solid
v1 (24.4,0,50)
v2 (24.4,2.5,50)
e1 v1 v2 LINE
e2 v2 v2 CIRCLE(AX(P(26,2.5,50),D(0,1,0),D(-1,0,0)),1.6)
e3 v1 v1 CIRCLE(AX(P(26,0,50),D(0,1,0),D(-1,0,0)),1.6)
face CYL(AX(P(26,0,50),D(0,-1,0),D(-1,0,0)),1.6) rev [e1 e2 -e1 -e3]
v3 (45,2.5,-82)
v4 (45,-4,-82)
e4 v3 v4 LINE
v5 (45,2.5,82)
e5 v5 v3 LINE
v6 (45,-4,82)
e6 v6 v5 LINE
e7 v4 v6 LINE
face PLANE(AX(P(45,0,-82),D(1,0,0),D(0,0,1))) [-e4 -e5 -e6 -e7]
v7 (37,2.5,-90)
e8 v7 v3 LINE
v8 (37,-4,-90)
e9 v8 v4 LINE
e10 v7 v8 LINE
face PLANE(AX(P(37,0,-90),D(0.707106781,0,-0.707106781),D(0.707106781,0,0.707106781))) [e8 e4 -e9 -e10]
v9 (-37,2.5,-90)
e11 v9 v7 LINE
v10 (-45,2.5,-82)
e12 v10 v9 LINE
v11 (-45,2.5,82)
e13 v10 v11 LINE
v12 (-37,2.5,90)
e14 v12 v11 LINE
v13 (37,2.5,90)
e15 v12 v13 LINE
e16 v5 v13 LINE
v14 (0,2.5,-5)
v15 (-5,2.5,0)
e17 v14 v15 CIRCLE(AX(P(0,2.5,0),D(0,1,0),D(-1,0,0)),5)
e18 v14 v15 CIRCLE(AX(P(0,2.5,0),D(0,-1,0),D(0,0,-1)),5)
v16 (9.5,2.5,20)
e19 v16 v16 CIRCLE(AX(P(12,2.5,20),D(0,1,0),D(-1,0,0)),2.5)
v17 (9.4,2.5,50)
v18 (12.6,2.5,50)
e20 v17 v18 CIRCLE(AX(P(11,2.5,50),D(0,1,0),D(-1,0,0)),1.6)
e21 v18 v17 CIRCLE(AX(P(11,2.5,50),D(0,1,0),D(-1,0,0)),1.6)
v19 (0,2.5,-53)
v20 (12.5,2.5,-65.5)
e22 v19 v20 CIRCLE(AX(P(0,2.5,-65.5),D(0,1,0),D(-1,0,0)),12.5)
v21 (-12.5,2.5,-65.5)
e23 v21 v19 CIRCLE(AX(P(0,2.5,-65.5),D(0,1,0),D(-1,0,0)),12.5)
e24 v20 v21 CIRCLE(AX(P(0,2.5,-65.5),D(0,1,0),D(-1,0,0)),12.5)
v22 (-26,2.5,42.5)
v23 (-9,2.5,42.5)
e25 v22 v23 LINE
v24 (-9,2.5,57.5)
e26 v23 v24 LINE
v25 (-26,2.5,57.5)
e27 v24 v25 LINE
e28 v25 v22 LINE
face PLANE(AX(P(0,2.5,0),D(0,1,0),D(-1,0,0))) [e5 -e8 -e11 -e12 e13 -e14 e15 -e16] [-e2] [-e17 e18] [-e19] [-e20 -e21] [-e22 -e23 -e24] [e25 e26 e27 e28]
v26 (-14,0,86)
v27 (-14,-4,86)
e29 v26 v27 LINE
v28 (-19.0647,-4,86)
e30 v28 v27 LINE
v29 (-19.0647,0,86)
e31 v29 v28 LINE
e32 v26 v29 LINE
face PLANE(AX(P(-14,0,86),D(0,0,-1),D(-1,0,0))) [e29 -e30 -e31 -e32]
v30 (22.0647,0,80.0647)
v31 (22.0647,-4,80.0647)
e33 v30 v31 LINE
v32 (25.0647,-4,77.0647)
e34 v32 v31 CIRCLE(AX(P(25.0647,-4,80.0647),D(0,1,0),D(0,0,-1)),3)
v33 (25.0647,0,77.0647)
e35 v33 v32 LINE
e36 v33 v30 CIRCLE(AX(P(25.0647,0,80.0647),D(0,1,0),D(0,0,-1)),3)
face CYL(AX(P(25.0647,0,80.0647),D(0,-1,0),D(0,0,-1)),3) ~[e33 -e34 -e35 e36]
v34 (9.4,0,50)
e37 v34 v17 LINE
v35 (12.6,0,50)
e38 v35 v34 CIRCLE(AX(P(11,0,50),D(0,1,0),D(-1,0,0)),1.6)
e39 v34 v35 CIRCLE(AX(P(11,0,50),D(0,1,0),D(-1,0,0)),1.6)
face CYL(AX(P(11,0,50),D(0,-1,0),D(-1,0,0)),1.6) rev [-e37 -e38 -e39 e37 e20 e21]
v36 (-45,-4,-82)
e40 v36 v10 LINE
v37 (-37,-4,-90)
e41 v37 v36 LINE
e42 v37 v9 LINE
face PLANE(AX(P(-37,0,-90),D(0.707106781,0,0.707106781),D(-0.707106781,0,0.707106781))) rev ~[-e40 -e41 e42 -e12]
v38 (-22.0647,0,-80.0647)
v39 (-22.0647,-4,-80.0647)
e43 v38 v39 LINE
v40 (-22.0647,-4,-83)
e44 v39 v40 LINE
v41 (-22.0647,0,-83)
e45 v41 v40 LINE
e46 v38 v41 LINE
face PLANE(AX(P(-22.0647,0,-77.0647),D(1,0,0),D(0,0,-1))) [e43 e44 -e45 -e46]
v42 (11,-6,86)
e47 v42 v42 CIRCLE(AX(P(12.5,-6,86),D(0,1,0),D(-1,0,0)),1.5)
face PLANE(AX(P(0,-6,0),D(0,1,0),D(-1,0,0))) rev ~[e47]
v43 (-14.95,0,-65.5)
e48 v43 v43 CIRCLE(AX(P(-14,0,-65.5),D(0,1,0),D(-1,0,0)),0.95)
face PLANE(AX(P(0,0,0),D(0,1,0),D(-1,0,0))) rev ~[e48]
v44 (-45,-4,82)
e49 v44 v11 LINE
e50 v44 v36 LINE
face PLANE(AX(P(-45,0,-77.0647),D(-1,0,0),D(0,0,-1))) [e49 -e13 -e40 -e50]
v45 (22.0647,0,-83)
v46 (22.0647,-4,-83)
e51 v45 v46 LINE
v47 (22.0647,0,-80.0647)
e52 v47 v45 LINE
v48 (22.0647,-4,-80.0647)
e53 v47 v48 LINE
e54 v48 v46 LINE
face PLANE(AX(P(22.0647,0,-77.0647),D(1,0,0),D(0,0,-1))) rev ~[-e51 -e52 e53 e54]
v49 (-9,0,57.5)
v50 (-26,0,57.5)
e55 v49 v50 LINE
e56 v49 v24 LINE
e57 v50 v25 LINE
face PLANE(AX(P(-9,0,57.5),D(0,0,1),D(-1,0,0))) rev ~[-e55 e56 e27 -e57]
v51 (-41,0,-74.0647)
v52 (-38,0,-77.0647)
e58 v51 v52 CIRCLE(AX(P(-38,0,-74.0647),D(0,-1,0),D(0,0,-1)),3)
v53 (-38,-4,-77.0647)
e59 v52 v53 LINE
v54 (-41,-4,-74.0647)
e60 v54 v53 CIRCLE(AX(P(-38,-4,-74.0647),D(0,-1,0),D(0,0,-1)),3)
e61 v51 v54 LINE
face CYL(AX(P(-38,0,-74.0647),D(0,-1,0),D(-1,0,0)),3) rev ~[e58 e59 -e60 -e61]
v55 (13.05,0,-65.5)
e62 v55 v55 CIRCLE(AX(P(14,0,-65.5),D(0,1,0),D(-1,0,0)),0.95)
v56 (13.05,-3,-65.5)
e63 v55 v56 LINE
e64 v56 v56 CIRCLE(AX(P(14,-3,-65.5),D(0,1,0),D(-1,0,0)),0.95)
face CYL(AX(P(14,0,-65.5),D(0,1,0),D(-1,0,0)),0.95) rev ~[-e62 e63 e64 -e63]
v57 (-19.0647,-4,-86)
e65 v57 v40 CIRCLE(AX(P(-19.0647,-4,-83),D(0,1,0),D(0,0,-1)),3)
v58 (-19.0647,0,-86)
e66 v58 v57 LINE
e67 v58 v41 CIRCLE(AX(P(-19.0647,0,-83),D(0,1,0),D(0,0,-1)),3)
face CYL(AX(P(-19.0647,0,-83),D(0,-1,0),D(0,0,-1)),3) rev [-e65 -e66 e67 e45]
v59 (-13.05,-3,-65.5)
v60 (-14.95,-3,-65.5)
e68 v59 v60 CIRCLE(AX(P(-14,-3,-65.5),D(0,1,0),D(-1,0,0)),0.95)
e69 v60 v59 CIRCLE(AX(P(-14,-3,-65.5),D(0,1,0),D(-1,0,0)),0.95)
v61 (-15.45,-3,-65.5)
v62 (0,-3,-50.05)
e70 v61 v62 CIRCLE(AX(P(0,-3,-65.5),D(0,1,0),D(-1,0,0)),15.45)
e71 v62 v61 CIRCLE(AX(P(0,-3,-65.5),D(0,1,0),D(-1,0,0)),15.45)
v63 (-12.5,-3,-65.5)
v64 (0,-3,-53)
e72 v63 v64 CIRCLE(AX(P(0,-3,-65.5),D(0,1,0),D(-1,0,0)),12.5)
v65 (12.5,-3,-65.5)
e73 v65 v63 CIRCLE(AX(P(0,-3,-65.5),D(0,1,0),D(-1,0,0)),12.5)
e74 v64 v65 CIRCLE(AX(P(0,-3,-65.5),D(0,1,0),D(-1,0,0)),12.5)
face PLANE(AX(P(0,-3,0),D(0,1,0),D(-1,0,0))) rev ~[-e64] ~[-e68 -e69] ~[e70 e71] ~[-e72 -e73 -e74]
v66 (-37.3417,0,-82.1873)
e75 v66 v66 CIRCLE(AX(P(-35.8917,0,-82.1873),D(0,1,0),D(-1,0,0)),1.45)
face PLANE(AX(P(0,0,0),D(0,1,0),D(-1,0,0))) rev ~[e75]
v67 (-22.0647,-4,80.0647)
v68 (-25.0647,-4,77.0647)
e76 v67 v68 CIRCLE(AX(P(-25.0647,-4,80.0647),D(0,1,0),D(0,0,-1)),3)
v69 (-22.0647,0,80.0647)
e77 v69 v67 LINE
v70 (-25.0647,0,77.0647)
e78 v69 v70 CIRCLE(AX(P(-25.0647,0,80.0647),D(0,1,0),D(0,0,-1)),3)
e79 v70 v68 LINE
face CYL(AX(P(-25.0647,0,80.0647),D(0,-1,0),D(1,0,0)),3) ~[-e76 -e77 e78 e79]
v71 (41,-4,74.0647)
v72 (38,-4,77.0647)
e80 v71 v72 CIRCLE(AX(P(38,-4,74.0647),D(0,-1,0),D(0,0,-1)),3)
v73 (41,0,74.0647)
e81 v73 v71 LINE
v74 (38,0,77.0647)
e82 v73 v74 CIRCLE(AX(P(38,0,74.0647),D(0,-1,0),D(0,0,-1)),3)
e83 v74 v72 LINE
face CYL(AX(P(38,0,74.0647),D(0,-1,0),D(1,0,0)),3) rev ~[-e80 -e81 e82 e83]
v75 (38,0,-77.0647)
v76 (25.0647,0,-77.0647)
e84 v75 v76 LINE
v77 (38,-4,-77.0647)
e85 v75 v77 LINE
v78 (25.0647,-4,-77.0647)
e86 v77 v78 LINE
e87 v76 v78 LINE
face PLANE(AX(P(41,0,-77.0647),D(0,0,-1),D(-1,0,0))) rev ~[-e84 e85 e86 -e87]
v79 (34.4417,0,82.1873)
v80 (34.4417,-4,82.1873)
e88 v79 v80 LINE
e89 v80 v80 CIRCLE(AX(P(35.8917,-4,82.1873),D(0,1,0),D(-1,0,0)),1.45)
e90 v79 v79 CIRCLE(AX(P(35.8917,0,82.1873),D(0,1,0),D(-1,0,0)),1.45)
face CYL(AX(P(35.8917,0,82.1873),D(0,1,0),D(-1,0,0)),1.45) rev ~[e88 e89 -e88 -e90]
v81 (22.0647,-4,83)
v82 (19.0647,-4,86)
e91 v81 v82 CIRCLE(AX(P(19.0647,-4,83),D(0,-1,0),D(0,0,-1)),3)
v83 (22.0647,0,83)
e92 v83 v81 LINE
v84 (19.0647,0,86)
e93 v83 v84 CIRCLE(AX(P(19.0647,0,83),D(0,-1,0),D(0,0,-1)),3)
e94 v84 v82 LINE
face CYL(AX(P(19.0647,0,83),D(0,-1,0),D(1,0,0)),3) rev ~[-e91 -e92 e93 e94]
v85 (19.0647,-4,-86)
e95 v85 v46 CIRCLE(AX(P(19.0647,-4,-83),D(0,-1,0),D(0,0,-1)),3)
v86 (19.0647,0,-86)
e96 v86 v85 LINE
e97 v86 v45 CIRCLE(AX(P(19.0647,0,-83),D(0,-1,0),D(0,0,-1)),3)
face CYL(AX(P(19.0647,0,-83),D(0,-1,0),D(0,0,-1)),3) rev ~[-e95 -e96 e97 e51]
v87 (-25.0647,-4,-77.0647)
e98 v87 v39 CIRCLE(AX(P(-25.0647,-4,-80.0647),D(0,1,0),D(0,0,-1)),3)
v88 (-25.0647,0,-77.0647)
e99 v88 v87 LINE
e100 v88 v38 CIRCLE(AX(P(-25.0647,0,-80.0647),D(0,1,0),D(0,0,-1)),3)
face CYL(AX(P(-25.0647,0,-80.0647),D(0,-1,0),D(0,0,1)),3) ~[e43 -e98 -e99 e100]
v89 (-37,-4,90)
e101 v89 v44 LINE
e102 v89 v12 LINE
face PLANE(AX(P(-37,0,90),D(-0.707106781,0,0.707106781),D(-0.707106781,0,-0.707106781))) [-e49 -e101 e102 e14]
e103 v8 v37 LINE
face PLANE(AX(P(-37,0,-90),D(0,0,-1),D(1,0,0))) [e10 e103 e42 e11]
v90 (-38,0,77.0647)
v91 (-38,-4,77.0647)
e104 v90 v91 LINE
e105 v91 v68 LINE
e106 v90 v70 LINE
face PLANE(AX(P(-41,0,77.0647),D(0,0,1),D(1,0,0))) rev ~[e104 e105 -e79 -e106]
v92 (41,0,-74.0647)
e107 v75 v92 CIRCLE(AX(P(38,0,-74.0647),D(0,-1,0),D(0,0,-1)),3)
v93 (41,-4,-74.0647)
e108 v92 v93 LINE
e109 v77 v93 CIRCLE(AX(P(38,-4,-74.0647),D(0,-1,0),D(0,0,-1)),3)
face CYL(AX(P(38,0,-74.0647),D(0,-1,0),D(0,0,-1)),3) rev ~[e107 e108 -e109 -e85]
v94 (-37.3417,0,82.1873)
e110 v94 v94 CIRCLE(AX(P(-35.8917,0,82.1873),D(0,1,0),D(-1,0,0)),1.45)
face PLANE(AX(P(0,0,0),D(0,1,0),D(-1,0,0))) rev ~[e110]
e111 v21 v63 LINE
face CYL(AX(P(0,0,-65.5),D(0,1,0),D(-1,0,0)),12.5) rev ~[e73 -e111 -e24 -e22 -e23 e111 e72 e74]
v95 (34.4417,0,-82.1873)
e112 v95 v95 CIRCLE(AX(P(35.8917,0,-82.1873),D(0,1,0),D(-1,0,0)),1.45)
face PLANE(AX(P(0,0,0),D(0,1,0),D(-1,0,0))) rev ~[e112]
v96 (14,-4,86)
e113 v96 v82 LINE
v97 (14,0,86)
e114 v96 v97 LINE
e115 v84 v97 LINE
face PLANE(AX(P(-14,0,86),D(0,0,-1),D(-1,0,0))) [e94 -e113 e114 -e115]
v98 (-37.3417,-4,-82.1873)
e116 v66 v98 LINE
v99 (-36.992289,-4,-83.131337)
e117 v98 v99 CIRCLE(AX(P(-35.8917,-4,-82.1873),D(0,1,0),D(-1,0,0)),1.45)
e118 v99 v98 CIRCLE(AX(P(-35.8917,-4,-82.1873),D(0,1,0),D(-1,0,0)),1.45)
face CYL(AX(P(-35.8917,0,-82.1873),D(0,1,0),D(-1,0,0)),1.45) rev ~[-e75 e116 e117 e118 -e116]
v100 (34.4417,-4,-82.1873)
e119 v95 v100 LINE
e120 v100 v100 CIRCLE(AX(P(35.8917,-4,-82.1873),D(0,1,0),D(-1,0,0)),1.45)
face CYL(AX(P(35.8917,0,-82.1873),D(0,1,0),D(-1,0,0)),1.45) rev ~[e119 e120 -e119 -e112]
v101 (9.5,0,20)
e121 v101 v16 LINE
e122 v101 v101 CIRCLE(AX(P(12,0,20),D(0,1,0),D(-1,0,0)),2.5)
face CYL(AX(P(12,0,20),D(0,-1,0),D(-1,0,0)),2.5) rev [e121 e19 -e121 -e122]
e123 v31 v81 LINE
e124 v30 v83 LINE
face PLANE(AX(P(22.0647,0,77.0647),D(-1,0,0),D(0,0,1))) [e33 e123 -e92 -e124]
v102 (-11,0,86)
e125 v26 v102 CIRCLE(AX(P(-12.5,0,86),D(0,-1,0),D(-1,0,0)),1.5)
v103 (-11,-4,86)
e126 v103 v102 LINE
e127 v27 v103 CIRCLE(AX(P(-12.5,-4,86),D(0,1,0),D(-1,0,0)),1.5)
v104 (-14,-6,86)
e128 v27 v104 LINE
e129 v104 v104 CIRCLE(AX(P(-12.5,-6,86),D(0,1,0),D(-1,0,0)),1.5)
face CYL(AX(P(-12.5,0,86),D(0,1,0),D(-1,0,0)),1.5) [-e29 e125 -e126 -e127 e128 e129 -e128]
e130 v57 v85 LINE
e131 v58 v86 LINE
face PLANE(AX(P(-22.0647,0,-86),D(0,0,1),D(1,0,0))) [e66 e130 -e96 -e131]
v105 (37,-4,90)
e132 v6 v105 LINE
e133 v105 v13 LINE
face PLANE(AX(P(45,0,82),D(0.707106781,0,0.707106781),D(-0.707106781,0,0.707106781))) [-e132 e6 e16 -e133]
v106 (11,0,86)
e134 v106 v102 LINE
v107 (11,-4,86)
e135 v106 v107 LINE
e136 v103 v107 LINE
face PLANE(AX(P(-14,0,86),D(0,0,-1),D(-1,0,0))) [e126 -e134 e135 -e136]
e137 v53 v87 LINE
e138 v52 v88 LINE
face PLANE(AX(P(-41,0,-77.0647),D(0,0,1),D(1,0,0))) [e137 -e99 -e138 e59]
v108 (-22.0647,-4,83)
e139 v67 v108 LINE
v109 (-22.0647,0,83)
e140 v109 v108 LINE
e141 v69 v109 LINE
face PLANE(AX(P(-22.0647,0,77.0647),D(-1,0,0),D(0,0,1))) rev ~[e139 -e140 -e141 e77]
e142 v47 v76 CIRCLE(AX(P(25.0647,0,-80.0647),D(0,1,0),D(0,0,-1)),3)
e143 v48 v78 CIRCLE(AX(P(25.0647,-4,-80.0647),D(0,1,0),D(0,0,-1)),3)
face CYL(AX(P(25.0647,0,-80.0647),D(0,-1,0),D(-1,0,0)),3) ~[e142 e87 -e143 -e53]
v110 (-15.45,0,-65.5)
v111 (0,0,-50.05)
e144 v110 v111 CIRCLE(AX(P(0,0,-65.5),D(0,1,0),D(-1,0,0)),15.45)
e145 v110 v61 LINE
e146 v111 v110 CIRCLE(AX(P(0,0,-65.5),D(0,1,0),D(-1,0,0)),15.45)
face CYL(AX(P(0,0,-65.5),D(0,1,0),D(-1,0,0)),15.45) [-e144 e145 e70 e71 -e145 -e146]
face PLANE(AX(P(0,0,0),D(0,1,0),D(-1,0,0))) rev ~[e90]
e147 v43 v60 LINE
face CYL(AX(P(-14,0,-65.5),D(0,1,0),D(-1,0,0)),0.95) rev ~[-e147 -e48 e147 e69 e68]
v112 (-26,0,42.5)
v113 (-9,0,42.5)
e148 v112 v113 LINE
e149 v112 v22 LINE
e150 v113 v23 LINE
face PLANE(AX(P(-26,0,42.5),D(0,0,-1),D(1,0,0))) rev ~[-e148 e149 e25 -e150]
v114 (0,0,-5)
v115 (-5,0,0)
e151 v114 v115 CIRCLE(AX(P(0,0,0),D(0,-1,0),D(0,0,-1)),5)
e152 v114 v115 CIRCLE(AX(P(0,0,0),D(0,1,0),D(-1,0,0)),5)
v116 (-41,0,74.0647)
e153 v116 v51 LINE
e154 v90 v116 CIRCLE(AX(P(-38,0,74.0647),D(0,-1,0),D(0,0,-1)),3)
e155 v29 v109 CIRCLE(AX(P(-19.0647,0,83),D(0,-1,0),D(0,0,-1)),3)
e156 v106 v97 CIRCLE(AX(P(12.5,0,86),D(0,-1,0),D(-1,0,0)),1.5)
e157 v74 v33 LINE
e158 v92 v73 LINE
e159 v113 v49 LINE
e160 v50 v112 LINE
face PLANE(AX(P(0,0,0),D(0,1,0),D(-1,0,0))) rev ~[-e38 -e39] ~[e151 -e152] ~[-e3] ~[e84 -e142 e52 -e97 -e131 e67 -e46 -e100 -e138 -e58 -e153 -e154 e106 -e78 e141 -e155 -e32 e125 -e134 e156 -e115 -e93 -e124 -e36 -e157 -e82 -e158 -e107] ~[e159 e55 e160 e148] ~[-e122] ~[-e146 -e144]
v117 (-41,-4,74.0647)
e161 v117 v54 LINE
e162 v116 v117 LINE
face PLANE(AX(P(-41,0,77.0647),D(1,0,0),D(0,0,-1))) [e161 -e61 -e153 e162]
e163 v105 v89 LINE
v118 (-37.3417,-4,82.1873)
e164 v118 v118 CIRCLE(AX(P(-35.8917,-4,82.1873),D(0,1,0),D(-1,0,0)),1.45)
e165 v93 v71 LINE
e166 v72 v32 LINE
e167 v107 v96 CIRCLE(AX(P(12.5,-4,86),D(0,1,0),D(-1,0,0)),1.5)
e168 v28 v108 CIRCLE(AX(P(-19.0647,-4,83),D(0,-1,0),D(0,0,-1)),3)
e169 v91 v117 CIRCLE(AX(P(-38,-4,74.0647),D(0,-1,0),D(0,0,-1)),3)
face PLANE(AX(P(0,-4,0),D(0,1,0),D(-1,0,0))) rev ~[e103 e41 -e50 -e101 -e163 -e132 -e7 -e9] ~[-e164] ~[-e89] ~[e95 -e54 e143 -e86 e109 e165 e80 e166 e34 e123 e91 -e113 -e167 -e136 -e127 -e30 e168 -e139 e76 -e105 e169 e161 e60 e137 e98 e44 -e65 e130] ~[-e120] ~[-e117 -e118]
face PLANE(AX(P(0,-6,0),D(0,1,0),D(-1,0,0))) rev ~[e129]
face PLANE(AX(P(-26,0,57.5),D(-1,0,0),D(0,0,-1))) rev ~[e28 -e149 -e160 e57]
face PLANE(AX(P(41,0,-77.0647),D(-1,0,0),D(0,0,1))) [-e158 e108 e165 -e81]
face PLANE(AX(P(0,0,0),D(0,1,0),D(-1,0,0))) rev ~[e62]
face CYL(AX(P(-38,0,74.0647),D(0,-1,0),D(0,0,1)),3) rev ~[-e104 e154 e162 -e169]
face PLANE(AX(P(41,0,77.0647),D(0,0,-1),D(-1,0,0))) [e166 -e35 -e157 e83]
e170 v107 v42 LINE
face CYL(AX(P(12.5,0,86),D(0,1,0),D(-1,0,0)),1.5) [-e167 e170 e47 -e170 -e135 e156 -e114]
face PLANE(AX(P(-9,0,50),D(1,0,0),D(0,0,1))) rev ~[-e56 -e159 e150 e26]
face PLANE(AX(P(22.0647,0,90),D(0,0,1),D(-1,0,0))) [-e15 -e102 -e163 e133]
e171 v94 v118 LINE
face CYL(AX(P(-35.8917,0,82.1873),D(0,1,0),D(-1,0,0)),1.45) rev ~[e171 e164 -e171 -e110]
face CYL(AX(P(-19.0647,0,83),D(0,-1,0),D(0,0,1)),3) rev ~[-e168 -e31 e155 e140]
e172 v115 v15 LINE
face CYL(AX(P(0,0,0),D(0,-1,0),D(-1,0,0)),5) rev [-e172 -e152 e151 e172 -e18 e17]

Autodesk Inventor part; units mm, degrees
ref_plane "YZ Plane" through (0, 0, 0) normal (1, 0, 0) x (0, 1, 0)
sketch "Sketch1" plane through (0, 0, 0) normal (0, 1, 0) x (-1, 0, 0)
  line L0 (37, -90) -> (-37, -90)
  line L1 (-45, -82) -> (-45, 82)
  line L2 (-37, 90) -> (37, 90)
  line L3 (45, 82) -> (45, -82)
  line L4 (45, -90) -> (-45, 90) construction
  line L5 (-45, -90) -> (45, 90) construction
  line L6 (-37, -90) -> (-45, -82)
  line L7 (37, -90) -> (45, -82)
  line L8 (37, 90) -> (45, 82)
  line L9 (-45, 82) -> (-37, 90)
  line L10 (0, 0) -> (0, -65.5)
  circle A0 centre (0, -65.5) radius 12.5
  line L11 (0, 0) -> (0, 0)
  circle A1 centre (0, 0) radius 5
  line L12 (0, 0) -> (17.5, 0)
  line L13 (17.5, 0) -> (17.5, 50)
  line L14 (17.5, 50) -> (0, 50)
  line L15 (0, 50) -> (0, 0)
  line L16 (26, 42.5) -> (9, 42.5)
  line L17 (9, 42.5) -> (9, 57.5)
  line L18 (9, 57.5) -> (26, 57.5)
  line L19 (26, 57.5) -> (26, 42.5)
  line L20 (26, 42.5) -> (9, 57.5) construction
  line L21 (9, 42.5) -> (26, 57.5) construction
  line L22 (9, 50) -> (-11, 50)
  circle A2 centre (-11, 50) radius 1.6
  line L23 (-11, 50) -> (-26, 50)
  circle A3 centre (-26, 50) radius 1.6
  line L24 (41, -80.3431) -> (35.3431, -86)
  line L25 (35.3431, -86) -> (-35.3431, -86)
  line L26 (-35.3431, -86) -> (-41, -80.3431)
  line L27 (-41, -80.3431) -> (-41, 80.3431)
  line L28 (-41, 80.3431) -> (-35.3431, 86)
  line L29 (-35.3431, 86) -> (35.3431, 86)
  line L30 (35.3431, 86) -> (41, 80.3431)
  line L31 (41, 80.3431) -> (41, -80.3431)
  line L32 (45, -90) -> (35.8917, -82.1873)
  circle A4 centre (35.8917, -82.1873) radius 1.45
  circle A5 centre (35.8917, -82.1873) radius 4.45
  line L33 (22.0647, -90) -> (45, -90)
  line L34 (45, -90) -> (45, -77.0647)
  line L35 (45, -77.0647) -> (22.0647, -77.0647)
  line L36 (22.0647, -77.0647) -> (22.0647, -90)
  circle A6 centre (-35.8917, -82.1873) radius 1.45
  circle A7 centre (-35.8917, -82.1873) radius 4.45
  line L37 (-45, -77.0647) -> (-22.0647, -77.0647)
  line L38 (-22.0647, -77.0647) -> (-22.0647, -90)
  circle A8 centre (35.8917, 82.1873) radius 1.45
  circle A9 centre (35.8917, 82.1873) radius 4.45
  line L39 (45, 77.0647) -> (22.0647, 77.0647)
  line L40 (22.0647, 77.0647) -> (22.0647, 90)
  circle A10 centre (-35.8917, 82.1873) radius 4.45
  circle A11 centre (-35.8917, 82.1873) radius 1.45
  line L41 (-45, 77.0647) -> (-22.0647, 77.0647)
  line L42 (-22.0647, 77.0647) -> (-22.0647, 90)
  line L43 (-22.0647, -90) -> (-45, -90)
  line L44 (-45, -90) -> (-45, -77.0647)
  line L45 (-22.0647, 90) -> (-45, 90)
  line L46 (-45, 90) -> (-45, 77.0647)
  line L47 (22.0647, 90) -> (45, 90)
  line L48 (45, 90) -> (45, 77.0647)
  line L49 (0, 0) -> (0, 20)
  line L50 (0, 0) -> (20, 0) construction
  line L51 (0, 20) -> (-12, 20)
  circle A12 centre (-12, 20) radius 2.5
  line L52 (0, 86) -> (12.5, 86)
  line L53 (0, 86) -> (-12.5, 86)
  circle A13 centre (12.5, 86) radius 1.5
  circle A14 centre (-12.5, 86) radius 1.5
  line L54 (0, -65.5) -> (14, -65.5)
  line L55 (0, -65.5) -> (14, -65.5) construction
  line L56 (0, -65.5) -> (-14, -65.5)
  line L57 (0, -65.5) -> (14, -65.5) construction
  circle A15 centre (14, -65.5) radius 0.95
  circle A16 centre (-14, -65.5) radius 0.95
  circle A17 centre (0, -65.5) radius 15.45
  point P0 (22.0647, -86)
  point P1 (-22.0647, -86)
  point P2 (-22.0647, -81.5147)
  point P3 (-26.5147, -77.0647)
  point P4 (-41, -77.0647)
  point P5 (-41, 77.0647)
  point P6 (-26.5147, 77.0647)
  point P7 (-22.0647, 81.5147)
  point P8 (-22.0647, 86)
  point P9 (22.0647, 86)
  point P10 (22.0647, 81.5147)
  point P11 (26.5147, 77.0647)
  point P12 (41, 77.0647)
  point P13 (41, -77.0647)
  point P14 (26.5147, -77.0647)
  point P15 (22.0647, -81.5147)
  point P16 (5, 0)
  point P17 (0, 5)
  point P18 (9, 50)
  point P19 (17.5, 42.5)
  dimension "d0" = 90
  dimension "d1" = 180
  dimension "d2" = 8
  dimension "d3" = 8
  dimension "d4" = 8
  dimension "d5" = 8
  dimension "d6" = 8
  dimension "d7" = 8
  dimension "d8" = 8
  dimension "d9" = 8
  dimension "d10" = 65.5
  dimension "d11" = 25
  dimension "d12" = 0
  dimension "d13" = 10
  dimension "d14" = 17.5
  dimension "d15" = 50
  dimension "d16" = 17
  dimension "d17" = 15
  dimension "d20" = 20
  dimension "d21" = 3.2
  dimension "d22" = 15
  dimension "d23" = 3.2
  dimension "d24" = 4
  dimension "d25" = 12
  dimension "d26" = 2.9
  dimension "d27" = 3
  dimension "d57" = 20
  dimension "d58" = 90
  dimension "d59" = 12
  dimension "d60" = 90
  dimension "d61" = 5
  dimension "d70" = 12.5
  dimension "d71" = 12.5
  dimension "d72" = 3
  dimension "d73" = 3
  dimension "d74" = 14
  dimension "d75" = 0
  dimension "d76" = 14
  dimension "d77" = 180
  dimension "d78" = 1.9
  dimension "d79" = 1.9
  dimension "d80" = 30.9
extrude "Extrusion1" add sketch "Sketch1" along normal blind 2.5 contours L0 L36 L25 A5 L32 L7 | L0 L38 L25 L36 | L32 A5 L24 L31 L35 L3 L7 | L0 L6 L1 L37 L27 L26 A7 L25 L38 | L36 L35 L31 L24 A5 L25 | L25 L38 L37 L27 L41 L42 L29 A14 A13 L40 L39 L31 L35 L36 | A5 L25 L24 L32 | L32 L24 A5 | L25 A7 L26 L27 L37 L38 | A4 | A5 L24 L25 | L35 L31 L39 L3 | A7 L26 L25 | L25 L26 A7 | L39 L31 L30 A9 L29 L40 L2 L8 L3 | L1 L41 L27 L37 | L39 L40 L29 A9 L30 L31 | L1 L9 L2 L42 L29 A10 L28 L27 L41 | L27 L28 A10 L29 L42 L41 | A9 L29 L30 | L30 L29 A9 | L29 A13 A14 L42 L2 L40 | A10 L29 L28 | L28 L29 A10 | A13 L29 | L29 A13 | A14 L29 | L29 A14 | A15 | A16 | A17 | A12 | A1 L15 L14 L17 L16 L13 L12 | A6 | A8 | A11
sketch "Sketch2" plane through (0, 0, 0) normal (0, -1, 0) x (1, 0, 0)
  line L0 (-26, 57.5) -> (-26, 42.5) projected
  line L1 (-26, 50) -> (-5, 50)
  circle A0 centre (-5, 50) radius 1.45
  circle A1 centre (-5, 50) radius 3.45
  circle A2 centre (0, -65.5) radius 12.5 projected
  line L2 (0, -65.5) -> (-14, -65.5)
  line L3 (0, -65.5) -> (14, -65.5)
  circle A3 centre (-14, -65.5) radius 0.95
  circle A4 centre (14, -65.5) radius 0.95
  circle A5 centre (-14, -65.5) radius 1.45
  circle A6 centre (14, -65.5) radius 1.45
  line L4 (-14, -66.95) -> (-12.3751, -67.2629) construction
  line L5 (-12.3751, -67.2629) -> (-11.6091, -68.4979) construction
  spline S0 degree 2 poles (-14, -66.95) (-12.3751, -67.2629) (-11.6091, -68.4979) knots 1 1 1 2 2 2
  line L6 (-14, -64.05) -> (-12.3751, -63.7371) construction
  line L7 (-12.3751, -63.7371) -> (-11.6091, -62.5021) construction
  spline S1 degree 2 poles (-14, -64.05) (-12.3751, -63.7371) (-11.6091, -62.5021) knots 1 1 1 2 2 2
  line L8 (0, -65.5) -> (0, -61.9317)
  line L9 (14, -66.95) -> (12.3751, -67.2629) construction
  line L10 (12.3751, -67.2629) -> (11.6091, -68.4979) construction
  spline S2 degree 2 poles (14, -66.95) (12.3751, -67.2629) (11.6091, -68.4979) knots 1 1 1 2 2 2
  spline S3 degree 2 poles (14, -64.05) (12.3751, -63.7371) (11.6091, -62.5021) knots 1 1 1 2 2 2
  line L11 (14, -64.05) -> (12.3751, -63.7371) construction
  line L12 (12.3751, -63.7371) -> (11.6091, -62.5021) construction
  circle A7 centre (0, -65.5) radius 12.5
  line L13 (-22.0647, 86) -> (22.0647, 86) projected
  line L14 (0, 60) -> (12.5, 60)
  line L15 (12.5, 60) -> (12.5, 86)
  line L16 (12.5, 86) -> (0, 86)
  line L17 (0, 86) -> (0, 60)
  circle A8 centre (12.5, 86) radius 1.5
  circle A9 centre (-12.5, 86) radius 1.5
  circle A10 centre (0, -65.5) radius 15.45
  point P0 (0, 0)
  point P1 (-12.3047, -67.7011)
  point P2 (-12.3047, -63.2989)
  point P3 (14, -64.05)
  point P4 (12.3047, -63.2989)
  point P5 (12.3047, -67.7011)
  point P6 (-15.45, -65.5)
  point P7 (15.45, -65.5)
  dimension "d30" = 21
  dimension "d31" = 2.9
  dimension "d32" = 2
  dimension "d33" = 14
  dimension "d34" = 14
  dimension "d35" = 1.9
  dimension "d36" = 1.9
  dimension "d37" = 0.5
  dimension "d38" = 0.5
  dimension "d41" = 12.5
  dimension "d42" = 3
ref_plane "Work Plane2" through (0, -4, 0) normal (0, -1, 0) x (1, 0, 0)
sketch "Sketch4" plane through (0, -4, 0) normal (0, -1, 0) x (1, 0, 0)
  line L0 (40.0685, -6.5) -> (29.9315, -6.5)
  line L1 (29.9315, -6.5) -> (29.9315, 6.5)
  line L2 (29.9315, 6.5) -> (40.0685, 6.5)
  line L3 (40.0685, 6.5) -> (40.0685, -6.5)
  line L4 (35, 82) -> (35, -82) projected
  line L5 (40.0685, -6.5) -> (29.9315, 6.5) construction
  line L6 (29.9315, -6.5) -> (40.0685, 6.5) construction
  point P0 (0, 0)
  point P1 (35, 0)
  point P2 (35, -6.5)
  point P3 (35, 6.5)
  dimension "d49" = 13
ref_plane "Work Plane1" through (0, -4, 0) normal (0, -1, 0) x (1, 0, 0)
sketch "Sketch5" plane through (0, -4, 0) normal (0, -1, 0) x (1, 0, 0)
  circle A0 centre (26.5147, -81.5147) radius 1.45 projected
  circle A1 centre (26.5147, -81.5147) radius 1.45
  circle A2 centre (-26.5147, -81.5147) radius 1.45 projected
  circle A3 centre (-26.5147, -81.5147) radius 1.45
  circle A4 centre (26.5147, 81.5147) radius 1.45 projected
  circle A5 centre (26.5147, 81.5147) radius 1.45
  circle A6 centre (-26.5147, 81.5147) radius 1.45 projected
  circle A7 centre (-26.5147, 81.5147) radius 1.45
  point P0 (0, 0)
extrude "Extrusion8" add sketch "Sketch1" against normal blind 4 contours L0 L36 L25 A5 L32 L7 | L0 L38 L25 L36 | L32 A5 L24 L31 L35 L3 L7 | L0 L6 L1 L37 L27 L26 A7 L25 L38 | L36 L35 L31 L24 A5 L25 | A5 L25 L24 L32 | L32 L24 A5 | L25 A7 L26 L27 L37 L38 | A5 L24 L25 | L35 L31 L39 L3 | A7 L26 L25 | L25 L26 A7 | L39 L31 L30 A9 L29 L40 L2 L8 L3 | L1 L41 L27 L37 | L39 L40 L29 A9 L30 L31 | L1 L9 L2 L42 L29 A10 L28 L27 L41 | L27 L28 A10 L29 L42 L41 | A9 L29 L30 | L30 L29 A9 | L29 A13 A14 L42 L2 L40 | A10 L29 L28 | L28 L29 A10 | L29 A13 | A14 L29 picked at (11.5718, 86.352) picked at (-13.4282, 86.352)
extrude "Extrusion9" add sketch "Sketch2" along normal blind 3 contours L3 A6 S2 A2 | A2 S3 A6 L3 | A2 S1 A5 A10 A6 S3 | S2 A6 A10 A5 S0 A2 | A6 | A2 L2 A5 S1 | S0 A5 L2 A2 | A5
extrude "Extrusion10" cut sketch "Sketch1" along normal blind 2.5 contours L12 A1 L10 | L15 A1 L12 | L10 A1 L15
extrude "Extrusion11" cut sketch "Sketch1" against normal blind 4 contours L25 L38 L37 L27 L41 L42 L29 A14 A13 L40 L39 L31 L35 L36 | A13 L29 | L29 A14 | L12 A1 L10 | L15 A1 L12 | L10 A1 L15 | A15 | A16 | A17 picked at (11.5145, 85.8803) picked at (-13.4855, 85.8803)
extrude "Extrusion12" add sketch "Sketch1" against normal blind 3 contours A17
extrude "Extrusion13" add sketch "Sketch1" against normal blind 6 contours A13 L29 | L29 A13 | A14 L29 | L29 A14
fillet "Fillet1" radius 3 12 edges at (-41, -2, -77.0647) (-22.0647, -2, 77.0647) (22.0647, -2, -77.0647) (41, -2, -77.0647) (22.0647, -2, -86) (22.0647, -2, 77.0647) (-22.0647, -2, 86) (-41, -2, 77.0647) (41, -2, 77.0647) (22.0647, -2, 86) (-22.0647, -2, -77.0647) (-22.0647, -2, -86)
extrude "Extrusion14" cut sketch "Sketch4" against normal blind 1.5 contours L0 L1 L2 L4
extrude "Extrusion16" cut sketch "Sketch1" along normal blind 2.5 contours A12
equation "\"d3\" = d2"
equation "\"d4\" = d2"
equation "\"d5\" = d4"
equation "\"d6\" = d2"
equation "\"d7\" = d6"
equation "\"d8\" = d2"
equation "\"d9\" = d8"
properties part number "enclosed top"
